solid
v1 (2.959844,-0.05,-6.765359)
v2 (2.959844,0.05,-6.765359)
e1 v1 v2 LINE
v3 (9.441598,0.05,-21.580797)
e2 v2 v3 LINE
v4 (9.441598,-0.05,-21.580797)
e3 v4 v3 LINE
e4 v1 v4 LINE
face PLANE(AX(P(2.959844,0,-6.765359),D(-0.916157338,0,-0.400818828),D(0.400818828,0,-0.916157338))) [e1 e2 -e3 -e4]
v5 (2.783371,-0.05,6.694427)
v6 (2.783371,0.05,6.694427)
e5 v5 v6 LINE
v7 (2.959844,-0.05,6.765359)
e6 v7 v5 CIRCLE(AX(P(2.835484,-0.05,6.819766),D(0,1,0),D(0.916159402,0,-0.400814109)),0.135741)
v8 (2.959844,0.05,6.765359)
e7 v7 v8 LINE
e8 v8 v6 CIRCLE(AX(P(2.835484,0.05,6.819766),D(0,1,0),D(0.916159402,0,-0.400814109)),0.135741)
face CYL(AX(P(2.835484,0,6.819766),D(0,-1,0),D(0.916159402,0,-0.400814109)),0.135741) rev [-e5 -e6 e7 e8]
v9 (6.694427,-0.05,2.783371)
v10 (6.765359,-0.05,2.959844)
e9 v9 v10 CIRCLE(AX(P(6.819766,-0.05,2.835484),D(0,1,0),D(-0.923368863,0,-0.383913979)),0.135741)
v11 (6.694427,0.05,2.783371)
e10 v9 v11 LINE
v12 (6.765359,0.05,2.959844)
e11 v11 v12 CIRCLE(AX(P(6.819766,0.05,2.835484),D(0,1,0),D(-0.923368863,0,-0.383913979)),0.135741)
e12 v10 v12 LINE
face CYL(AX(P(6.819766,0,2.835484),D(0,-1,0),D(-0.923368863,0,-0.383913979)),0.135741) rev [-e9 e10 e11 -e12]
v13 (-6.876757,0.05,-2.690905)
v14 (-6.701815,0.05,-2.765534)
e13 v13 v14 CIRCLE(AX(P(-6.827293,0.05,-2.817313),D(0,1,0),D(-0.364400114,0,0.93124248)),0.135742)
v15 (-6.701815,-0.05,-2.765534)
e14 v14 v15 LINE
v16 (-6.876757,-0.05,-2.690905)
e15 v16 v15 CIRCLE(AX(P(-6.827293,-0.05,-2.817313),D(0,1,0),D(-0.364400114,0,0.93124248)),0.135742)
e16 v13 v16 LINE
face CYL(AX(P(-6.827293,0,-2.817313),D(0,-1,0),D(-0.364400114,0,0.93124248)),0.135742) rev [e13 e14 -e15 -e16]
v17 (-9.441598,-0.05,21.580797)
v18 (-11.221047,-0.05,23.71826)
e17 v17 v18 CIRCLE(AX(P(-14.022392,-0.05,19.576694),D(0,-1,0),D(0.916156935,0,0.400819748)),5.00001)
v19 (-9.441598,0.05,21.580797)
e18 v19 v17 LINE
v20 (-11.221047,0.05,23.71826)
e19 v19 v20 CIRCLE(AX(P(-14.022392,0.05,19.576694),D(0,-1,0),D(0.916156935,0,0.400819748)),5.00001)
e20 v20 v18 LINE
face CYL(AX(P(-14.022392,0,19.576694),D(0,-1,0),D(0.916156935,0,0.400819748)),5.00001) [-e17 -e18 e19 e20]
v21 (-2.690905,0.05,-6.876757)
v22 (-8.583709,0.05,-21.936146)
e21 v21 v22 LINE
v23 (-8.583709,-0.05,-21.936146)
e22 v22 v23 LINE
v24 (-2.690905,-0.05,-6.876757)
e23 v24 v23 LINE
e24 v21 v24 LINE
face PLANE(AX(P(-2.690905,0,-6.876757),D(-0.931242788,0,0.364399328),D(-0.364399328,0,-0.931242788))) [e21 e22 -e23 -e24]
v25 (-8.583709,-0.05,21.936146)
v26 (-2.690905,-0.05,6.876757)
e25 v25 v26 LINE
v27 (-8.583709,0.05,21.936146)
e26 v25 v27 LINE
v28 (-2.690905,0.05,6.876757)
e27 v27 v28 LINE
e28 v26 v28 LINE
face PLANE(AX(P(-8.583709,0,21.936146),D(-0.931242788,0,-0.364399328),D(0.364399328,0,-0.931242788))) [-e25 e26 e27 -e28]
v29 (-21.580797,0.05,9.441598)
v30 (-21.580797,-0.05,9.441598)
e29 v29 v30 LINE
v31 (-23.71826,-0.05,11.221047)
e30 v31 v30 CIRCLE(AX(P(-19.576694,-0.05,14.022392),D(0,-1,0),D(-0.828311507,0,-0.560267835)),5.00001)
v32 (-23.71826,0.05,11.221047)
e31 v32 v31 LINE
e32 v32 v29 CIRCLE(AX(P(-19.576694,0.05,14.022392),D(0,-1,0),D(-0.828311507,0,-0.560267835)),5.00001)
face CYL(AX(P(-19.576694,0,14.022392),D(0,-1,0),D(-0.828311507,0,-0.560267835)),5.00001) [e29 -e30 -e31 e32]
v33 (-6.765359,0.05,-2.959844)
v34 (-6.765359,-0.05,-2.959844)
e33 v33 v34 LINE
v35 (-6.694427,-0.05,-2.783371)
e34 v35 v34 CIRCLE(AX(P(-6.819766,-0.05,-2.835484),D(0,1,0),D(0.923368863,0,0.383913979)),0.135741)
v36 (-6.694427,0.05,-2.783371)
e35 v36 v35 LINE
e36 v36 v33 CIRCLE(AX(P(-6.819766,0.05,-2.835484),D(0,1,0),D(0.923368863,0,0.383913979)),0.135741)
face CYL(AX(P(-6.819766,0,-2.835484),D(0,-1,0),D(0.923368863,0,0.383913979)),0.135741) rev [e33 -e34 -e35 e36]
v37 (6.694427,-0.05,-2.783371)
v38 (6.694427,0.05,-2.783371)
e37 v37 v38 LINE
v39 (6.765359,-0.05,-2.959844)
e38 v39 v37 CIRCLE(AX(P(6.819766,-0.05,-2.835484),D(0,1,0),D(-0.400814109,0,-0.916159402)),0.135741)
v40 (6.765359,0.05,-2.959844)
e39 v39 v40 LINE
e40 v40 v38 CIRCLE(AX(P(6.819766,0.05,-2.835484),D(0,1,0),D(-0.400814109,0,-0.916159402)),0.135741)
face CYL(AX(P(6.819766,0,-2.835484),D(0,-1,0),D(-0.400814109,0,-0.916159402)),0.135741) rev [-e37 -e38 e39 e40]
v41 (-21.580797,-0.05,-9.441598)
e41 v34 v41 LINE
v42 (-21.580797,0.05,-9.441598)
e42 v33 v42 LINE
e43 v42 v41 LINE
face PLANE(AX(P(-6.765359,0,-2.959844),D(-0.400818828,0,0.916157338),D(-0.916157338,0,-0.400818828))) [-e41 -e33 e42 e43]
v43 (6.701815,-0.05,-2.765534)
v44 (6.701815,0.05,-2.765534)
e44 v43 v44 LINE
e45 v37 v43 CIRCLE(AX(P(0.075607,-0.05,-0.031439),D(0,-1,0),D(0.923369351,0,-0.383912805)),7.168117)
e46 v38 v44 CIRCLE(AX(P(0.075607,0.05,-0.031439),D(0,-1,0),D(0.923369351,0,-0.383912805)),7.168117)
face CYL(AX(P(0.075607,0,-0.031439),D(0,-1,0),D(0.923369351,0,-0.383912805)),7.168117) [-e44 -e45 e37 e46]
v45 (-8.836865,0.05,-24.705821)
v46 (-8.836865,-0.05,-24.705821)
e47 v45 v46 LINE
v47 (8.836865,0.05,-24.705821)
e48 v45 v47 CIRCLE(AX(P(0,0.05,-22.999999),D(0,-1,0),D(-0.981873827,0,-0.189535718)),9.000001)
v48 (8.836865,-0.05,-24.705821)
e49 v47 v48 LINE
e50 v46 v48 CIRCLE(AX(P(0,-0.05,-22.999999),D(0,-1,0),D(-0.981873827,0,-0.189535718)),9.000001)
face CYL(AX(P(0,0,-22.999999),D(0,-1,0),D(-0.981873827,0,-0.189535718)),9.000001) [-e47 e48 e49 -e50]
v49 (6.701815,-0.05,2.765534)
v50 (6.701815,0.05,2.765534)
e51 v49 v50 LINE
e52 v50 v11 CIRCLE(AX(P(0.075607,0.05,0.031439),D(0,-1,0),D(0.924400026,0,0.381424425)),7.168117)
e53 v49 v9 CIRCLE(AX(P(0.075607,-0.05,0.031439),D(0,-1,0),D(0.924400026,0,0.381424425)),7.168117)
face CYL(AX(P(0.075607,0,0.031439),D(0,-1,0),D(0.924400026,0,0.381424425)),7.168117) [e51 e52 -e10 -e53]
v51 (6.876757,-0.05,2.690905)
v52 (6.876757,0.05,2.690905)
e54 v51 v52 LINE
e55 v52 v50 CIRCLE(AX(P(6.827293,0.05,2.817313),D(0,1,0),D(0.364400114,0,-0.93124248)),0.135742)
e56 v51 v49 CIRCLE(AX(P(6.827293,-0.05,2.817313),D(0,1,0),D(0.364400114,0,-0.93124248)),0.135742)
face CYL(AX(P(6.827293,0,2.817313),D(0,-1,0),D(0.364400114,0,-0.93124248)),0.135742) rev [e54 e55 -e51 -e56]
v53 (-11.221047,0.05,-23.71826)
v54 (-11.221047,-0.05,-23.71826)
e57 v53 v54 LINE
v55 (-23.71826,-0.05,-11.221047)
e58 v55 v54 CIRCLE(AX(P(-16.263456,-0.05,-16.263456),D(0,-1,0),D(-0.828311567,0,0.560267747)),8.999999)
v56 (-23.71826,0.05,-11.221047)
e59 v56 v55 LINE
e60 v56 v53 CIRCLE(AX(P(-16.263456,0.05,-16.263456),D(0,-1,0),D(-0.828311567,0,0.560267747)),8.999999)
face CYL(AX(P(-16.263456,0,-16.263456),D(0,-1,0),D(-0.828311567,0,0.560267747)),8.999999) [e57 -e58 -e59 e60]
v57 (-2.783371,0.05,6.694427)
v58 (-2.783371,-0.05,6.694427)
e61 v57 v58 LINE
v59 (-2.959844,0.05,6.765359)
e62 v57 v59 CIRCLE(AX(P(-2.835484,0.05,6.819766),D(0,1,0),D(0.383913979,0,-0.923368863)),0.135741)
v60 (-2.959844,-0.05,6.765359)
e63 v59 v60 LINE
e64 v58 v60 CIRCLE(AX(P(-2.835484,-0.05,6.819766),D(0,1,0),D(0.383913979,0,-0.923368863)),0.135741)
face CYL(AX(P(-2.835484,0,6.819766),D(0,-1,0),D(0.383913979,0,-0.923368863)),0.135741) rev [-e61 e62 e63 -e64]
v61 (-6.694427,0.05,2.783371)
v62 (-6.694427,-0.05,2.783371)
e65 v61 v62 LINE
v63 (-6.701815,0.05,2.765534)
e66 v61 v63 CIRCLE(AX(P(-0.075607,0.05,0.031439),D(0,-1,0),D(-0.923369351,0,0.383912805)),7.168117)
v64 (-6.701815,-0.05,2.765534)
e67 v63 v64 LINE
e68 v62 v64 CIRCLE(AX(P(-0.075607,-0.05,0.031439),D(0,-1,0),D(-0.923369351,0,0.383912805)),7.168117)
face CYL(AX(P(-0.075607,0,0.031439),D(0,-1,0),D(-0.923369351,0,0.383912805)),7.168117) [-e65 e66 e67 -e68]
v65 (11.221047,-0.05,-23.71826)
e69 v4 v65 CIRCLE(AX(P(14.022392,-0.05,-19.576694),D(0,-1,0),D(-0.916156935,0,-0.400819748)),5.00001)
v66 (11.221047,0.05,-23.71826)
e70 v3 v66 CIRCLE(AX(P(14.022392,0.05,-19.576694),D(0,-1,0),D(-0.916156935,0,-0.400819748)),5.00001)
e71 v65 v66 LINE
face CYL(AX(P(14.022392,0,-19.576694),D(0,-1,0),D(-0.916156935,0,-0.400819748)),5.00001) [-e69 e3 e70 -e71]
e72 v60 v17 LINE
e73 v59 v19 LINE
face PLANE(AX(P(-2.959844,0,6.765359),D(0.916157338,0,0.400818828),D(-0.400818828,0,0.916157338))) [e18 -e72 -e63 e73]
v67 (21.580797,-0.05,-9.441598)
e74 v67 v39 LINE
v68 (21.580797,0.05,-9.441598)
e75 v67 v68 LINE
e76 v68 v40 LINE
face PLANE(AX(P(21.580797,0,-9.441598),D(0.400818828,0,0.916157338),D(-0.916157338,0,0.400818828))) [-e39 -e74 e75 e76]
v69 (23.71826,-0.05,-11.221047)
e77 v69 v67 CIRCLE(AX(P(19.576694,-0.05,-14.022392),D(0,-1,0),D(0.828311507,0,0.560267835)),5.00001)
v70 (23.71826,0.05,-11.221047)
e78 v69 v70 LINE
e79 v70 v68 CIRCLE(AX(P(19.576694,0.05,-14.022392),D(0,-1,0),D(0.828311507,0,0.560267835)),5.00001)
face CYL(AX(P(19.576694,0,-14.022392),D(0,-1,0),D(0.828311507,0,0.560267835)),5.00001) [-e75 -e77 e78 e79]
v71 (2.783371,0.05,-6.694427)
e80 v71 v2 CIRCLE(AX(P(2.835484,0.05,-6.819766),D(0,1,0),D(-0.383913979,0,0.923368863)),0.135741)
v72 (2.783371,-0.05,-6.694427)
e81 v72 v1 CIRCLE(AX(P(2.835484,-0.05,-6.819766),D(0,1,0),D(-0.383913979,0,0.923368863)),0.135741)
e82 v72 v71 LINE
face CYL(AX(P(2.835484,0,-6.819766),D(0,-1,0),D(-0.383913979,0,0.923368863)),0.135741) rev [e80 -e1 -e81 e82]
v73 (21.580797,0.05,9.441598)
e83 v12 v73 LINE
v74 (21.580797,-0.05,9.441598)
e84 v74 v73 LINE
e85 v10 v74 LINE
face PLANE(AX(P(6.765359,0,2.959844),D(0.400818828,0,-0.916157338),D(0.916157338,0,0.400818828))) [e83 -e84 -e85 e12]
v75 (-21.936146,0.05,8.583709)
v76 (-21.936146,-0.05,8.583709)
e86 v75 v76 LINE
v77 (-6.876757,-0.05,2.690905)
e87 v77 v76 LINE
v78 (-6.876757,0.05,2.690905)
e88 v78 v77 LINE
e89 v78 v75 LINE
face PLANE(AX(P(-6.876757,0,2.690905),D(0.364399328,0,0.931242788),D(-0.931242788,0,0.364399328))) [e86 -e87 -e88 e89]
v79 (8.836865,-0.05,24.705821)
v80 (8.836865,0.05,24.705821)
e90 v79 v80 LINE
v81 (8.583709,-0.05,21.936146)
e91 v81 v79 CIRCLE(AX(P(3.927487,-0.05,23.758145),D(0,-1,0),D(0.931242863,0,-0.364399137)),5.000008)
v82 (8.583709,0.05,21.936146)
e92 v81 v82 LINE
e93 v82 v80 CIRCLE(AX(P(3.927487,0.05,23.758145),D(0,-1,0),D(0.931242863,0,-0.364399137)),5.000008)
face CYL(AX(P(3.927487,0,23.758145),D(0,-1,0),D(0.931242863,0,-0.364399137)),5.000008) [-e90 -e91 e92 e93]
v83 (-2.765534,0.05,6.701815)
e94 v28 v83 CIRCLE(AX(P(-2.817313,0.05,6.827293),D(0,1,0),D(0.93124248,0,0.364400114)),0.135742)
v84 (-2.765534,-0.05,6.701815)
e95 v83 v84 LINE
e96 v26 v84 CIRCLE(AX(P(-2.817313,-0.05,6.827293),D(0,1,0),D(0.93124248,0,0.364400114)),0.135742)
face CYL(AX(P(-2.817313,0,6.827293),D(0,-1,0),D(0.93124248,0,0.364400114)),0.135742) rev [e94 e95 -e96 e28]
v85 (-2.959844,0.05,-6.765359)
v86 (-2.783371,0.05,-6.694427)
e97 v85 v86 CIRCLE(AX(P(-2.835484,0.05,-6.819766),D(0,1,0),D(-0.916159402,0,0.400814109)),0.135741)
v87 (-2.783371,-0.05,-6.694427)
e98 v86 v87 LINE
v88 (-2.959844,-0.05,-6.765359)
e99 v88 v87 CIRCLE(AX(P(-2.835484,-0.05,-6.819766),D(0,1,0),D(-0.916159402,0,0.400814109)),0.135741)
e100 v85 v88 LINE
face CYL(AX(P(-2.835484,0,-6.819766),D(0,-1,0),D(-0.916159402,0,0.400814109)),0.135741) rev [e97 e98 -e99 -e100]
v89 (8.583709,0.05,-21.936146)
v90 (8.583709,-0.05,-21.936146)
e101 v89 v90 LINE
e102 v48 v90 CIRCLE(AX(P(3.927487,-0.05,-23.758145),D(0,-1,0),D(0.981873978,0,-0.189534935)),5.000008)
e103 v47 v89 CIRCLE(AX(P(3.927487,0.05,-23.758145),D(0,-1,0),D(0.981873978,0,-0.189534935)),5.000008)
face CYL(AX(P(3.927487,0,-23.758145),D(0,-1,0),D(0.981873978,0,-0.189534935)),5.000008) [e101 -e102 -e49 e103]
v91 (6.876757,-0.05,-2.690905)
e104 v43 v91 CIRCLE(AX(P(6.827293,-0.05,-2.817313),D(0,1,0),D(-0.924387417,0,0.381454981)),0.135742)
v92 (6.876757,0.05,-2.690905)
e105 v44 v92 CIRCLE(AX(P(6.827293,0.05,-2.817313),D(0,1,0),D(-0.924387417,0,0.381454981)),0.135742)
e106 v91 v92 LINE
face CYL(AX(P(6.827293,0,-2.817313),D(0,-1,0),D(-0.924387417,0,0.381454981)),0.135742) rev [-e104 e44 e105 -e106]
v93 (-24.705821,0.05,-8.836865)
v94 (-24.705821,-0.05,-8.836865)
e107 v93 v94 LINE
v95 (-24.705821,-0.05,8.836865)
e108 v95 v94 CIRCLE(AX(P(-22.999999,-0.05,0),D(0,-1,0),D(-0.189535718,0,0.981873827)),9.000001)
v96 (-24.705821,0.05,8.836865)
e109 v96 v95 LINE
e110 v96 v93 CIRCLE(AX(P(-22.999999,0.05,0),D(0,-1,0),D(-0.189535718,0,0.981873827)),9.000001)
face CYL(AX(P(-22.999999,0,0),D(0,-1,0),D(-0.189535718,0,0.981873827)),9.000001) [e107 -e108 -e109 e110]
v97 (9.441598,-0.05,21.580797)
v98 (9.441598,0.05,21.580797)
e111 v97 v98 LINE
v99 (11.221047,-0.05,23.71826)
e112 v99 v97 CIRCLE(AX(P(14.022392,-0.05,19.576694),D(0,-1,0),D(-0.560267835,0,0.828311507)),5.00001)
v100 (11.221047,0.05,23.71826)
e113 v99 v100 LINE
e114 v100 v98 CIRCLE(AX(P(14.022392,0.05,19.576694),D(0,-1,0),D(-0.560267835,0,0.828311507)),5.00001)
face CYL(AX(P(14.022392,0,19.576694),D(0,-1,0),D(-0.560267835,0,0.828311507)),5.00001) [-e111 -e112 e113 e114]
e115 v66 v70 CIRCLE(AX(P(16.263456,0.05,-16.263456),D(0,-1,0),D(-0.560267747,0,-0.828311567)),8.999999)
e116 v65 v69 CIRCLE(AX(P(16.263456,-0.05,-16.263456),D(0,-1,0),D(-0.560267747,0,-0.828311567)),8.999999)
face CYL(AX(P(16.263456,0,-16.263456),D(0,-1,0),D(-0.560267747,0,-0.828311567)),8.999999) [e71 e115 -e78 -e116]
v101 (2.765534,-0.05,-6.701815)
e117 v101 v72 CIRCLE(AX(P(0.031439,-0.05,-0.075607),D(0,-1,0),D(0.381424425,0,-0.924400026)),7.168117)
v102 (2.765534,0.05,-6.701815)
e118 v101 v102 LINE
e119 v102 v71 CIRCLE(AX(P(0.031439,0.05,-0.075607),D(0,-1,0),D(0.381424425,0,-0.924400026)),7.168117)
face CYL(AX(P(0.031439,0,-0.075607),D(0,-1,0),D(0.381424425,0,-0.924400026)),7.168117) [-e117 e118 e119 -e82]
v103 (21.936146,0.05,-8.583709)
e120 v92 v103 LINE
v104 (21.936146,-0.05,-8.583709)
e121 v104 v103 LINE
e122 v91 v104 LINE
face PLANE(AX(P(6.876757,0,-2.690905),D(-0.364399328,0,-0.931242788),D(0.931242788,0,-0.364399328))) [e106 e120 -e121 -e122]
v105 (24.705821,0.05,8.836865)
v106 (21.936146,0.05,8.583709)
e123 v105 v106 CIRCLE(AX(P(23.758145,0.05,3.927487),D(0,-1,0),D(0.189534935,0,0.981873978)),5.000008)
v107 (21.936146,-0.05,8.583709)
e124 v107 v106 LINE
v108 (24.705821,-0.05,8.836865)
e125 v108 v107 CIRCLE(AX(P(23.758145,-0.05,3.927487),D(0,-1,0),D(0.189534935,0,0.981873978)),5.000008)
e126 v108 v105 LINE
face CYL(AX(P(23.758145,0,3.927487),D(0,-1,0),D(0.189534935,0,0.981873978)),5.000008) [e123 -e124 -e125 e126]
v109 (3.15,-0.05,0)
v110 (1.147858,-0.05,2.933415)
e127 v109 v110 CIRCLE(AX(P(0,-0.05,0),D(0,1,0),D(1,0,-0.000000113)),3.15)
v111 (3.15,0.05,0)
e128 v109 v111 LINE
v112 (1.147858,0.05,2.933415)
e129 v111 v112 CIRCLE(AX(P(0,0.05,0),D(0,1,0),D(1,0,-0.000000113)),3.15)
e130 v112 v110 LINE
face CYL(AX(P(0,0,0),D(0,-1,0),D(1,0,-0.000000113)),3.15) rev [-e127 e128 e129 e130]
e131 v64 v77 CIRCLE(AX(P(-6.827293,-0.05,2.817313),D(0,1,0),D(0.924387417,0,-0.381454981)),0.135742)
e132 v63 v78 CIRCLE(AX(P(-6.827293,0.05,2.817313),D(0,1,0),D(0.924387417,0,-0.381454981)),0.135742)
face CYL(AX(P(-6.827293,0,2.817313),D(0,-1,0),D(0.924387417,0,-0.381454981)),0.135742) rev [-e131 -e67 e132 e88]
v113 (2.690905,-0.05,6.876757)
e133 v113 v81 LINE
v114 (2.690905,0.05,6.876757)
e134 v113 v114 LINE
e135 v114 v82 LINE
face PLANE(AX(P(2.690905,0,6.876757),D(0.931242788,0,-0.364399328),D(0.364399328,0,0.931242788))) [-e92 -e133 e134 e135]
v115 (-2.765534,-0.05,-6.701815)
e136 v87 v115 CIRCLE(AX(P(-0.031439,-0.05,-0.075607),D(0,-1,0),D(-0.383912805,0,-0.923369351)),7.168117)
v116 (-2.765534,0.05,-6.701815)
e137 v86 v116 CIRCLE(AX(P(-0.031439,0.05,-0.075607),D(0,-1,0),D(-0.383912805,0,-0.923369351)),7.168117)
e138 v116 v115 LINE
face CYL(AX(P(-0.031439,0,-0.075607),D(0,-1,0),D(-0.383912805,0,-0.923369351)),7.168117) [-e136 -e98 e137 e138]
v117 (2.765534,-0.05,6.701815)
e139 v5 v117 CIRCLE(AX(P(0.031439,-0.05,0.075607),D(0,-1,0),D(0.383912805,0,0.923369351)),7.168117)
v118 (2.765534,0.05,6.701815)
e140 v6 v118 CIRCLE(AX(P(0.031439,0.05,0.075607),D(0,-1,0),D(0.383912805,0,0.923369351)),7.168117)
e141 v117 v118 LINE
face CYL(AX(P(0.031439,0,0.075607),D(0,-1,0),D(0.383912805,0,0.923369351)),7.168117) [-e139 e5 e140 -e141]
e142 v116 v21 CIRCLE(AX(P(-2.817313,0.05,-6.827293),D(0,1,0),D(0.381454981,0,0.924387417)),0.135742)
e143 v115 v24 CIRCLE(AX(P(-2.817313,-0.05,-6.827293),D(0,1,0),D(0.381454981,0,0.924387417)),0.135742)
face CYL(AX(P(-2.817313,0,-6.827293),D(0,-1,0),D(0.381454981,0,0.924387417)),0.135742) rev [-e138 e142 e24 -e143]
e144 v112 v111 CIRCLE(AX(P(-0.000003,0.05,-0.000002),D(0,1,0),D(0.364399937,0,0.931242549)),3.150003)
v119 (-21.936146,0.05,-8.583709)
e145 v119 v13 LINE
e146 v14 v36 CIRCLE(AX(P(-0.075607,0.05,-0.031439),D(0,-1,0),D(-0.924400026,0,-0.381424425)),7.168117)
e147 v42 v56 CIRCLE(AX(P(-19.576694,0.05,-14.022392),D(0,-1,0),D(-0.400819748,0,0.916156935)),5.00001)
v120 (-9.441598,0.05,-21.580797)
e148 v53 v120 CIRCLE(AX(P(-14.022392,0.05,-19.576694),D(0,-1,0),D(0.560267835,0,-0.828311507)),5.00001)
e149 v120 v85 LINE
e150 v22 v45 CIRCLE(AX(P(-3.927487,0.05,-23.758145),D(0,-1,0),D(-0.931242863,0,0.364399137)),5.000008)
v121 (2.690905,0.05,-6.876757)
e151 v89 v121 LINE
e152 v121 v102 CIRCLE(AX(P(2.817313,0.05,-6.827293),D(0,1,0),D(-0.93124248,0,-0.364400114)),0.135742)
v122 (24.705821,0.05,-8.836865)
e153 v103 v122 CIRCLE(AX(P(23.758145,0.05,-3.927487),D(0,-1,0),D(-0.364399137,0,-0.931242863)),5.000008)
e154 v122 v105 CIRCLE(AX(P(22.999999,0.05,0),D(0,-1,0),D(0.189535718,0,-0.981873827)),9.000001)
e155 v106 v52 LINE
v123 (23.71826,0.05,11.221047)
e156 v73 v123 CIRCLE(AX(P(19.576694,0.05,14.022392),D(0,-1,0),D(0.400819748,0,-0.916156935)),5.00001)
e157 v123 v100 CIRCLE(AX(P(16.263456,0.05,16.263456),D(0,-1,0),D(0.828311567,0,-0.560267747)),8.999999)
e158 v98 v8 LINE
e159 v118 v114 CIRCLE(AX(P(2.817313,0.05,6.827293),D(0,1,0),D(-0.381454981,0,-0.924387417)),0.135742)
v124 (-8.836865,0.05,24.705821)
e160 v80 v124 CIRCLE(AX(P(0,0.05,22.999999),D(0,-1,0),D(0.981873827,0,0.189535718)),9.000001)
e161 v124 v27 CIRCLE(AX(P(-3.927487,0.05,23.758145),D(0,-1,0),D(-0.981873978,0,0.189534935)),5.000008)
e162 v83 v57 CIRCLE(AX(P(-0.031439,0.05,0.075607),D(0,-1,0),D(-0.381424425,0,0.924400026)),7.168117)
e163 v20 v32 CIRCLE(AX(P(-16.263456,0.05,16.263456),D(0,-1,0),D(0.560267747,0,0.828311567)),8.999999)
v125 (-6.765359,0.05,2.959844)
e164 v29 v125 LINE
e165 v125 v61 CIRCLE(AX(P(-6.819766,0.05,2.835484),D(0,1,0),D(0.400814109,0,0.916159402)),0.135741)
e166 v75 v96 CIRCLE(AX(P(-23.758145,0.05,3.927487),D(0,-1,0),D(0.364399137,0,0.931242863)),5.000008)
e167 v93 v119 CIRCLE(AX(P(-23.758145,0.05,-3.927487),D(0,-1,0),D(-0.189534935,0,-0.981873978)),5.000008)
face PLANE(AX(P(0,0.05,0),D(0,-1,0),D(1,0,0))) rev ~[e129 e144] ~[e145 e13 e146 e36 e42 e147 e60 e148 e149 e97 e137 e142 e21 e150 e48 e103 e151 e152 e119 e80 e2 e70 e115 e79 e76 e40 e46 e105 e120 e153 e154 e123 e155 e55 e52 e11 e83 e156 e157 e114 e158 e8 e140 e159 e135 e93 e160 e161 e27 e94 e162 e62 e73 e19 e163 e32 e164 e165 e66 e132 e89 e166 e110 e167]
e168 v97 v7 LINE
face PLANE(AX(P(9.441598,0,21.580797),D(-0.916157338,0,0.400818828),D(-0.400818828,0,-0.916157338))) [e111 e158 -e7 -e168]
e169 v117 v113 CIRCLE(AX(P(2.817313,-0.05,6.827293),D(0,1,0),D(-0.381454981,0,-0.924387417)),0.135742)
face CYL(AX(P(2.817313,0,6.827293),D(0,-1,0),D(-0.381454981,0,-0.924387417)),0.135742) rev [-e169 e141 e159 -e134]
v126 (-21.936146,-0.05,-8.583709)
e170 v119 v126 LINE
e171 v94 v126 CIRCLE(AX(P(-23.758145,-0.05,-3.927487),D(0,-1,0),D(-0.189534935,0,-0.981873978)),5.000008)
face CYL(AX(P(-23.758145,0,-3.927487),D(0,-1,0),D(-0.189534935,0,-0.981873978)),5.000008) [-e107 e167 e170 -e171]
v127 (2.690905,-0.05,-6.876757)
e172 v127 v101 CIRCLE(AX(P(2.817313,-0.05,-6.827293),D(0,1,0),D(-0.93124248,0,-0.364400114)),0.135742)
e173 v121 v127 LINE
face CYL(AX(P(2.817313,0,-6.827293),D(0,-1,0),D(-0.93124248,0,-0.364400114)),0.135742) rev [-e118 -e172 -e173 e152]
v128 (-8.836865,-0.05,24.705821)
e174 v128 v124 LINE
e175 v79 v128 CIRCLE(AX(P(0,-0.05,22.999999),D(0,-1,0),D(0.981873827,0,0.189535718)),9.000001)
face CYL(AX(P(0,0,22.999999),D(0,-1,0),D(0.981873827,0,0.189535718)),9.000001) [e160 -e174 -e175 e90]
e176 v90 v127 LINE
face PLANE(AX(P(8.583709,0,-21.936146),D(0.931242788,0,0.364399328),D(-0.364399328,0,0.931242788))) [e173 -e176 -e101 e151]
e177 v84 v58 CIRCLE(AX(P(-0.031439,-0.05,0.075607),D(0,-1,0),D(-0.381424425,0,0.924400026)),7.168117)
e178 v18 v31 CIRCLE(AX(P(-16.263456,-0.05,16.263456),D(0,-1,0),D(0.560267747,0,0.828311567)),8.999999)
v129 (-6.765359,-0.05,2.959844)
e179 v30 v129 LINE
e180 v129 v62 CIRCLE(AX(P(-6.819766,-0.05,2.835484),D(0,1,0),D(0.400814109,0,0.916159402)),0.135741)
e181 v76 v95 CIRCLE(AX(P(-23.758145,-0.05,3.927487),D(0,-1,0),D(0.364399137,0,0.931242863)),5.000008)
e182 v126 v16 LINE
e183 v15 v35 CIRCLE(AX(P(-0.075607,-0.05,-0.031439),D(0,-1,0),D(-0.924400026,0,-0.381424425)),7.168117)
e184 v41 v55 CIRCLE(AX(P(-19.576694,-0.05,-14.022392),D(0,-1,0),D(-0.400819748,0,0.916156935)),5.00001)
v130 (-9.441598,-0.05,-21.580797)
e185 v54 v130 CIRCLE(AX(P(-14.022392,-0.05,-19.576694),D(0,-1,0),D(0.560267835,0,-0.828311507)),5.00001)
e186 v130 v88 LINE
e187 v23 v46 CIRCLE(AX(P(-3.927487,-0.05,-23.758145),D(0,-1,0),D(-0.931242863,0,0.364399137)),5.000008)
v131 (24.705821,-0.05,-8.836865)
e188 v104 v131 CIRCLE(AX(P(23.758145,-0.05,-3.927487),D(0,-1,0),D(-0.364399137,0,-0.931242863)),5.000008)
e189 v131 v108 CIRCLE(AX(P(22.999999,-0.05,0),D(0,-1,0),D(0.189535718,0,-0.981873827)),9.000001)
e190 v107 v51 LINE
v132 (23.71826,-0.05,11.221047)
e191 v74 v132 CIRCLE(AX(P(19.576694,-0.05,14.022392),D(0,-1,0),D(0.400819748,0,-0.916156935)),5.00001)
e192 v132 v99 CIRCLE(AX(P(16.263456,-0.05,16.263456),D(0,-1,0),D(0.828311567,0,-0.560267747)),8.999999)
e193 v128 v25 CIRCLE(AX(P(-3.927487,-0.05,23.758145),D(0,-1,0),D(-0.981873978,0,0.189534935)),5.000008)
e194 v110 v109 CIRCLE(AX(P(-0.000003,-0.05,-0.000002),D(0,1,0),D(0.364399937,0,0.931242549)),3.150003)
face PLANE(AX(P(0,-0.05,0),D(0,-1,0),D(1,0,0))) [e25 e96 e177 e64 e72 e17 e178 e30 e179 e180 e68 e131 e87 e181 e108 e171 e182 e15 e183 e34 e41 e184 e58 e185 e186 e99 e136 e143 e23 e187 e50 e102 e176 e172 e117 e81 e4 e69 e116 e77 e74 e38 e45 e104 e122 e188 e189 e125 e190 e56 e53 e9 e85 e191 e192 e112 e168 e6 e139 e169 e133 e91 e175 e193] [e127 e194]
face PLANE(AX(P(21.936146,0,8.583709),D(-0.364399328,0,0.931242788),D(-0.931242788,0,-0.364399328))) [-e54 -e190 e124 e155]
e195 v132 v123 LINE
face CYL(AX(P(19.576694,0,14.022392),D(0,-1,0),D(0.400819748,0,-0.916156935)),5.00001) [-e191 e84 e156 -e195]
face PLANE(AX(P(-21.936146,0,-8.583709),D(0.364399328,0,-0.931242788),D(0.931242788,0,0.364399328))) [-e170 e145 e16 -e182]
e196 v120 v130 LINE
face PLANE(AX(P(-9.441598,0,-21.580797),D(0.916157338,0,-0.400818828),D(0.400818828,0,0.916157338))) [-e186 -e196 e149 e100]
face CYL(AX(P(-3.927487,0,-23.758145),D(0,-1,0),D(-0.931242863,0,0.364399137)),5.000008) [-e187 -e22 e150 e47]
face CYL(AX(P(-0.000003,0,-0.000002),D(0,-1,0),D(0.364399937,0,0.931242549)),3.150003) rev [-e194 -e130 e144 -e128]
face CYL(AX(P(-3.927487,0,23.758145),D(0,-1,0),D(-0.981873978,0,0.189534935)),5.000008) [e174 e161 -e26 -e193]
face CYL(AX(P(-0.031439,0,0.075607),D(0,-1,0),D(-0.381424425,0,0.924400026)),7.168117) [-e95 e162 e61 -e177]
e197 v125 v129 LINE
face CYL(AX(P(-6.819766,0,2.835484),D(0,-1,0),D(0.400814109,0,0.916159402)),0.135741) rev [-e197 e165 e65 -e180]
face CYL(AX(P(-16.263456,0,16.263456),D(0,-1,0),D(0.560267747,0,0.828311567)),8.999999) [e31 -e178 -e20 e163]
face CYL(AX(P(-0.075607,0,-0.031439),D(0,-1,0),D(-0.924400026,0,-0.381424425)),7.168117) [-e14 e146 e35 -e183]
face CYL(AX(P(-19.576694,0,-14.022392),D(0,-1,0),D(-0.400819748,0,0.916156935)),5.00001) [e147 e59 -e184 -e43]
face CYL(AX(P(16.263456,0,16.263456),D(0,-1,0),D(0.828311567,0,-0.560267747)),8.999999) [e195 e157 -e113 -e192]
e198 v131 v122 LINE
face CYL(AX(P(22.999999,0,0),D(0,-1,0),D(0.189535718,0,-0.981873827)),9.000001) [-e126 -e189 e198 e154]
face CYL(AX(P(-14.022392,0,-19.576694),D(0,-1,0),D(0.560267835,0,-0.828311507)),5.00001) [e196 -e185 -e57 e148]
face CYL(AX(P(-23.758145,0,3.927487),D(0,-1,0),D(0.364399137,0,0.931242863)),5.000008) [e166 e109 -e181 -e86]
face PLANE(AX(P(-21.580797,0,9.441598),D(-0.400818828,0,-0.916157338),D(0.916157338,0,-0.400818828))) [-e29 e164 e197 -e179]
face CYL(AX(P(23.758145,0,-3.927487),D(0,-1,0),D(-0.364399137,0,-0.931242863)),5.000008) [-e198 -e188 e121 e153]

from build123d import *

# Parameters (mm, degrees)
F1_DEPTH = 0.05


with BuildPart() as f1:
    # F0 (on Front) → F1 (new body, symmetric)
    with BuildSketch(Plane.XZ):
        with BuildLine():
            ThreePointArc((-2.690905, 6.876757), (-2.692458, 6.77403), (-2.765534, 6.701815))
            ThreePointArc((-2.765534, 6.701815), (-2.774455, 6.698127), (-2.783371, 6.694427))
            ThreePointArc((-2.783371, 6.694427), (-2.886107, 6.693818), (-2.959844, 6.765359))
            Line((-2.959844, 6.765359), (-9.441598, 21.580797))
            ThreePointArc((-9.441598, 21.580797), (-10.179713, 22.775744), (-11.221047, 23.71826))
            ThreePointArc((-11.221047, 23.71826), (-22.627417, 22.627417), (-23.71826, 11.221047))
            ThreePointArc((-23.71826, 11.221047), (-22.775744, 10.179713), (-21.580797, 9.441598))
            Line((-21.580797, 9.441598), (-6.765359, 2.959844))
            ThreePointArc((-6.765359, 2.959844), (-6.693818, 2.886107), (-6.694427, 2.783371))
            ThreePointArc((-6.694427, 2.783371), (-6.698127, 2.774455), (-6.701815, 2.765534))
            ThreePointArc((-6.701815, 2.765534), (-6.77403, 2.692458), (-6.876757, 2.690905))
            Line((-6.876757, 2.690905), (-21.936146, 8.583709))
            ThreePointArc((-21.936146, 8.583709), (-23.303027, 8.906739), (-24.705821, 8.836865))
            ThreePointArc((-24.705821, 8.836865), (-32, 0), (-24.705821, -8.836865))
            ThreePointArc((-24.705821, -8.836865), (-23.303027, -8.906739), (-21.936146, -8.583709))
            Line((-21.936146, -8.583709), (-6.876757, -2.690905))
            ThreePointArc((-6.876757, -2.690905), (-6.77403, -2.692458), (-6.701815, -2.765534))
            ThreePointArc((-6.701815, -2.765534), (-6.698127, -2.774455), (-6.694427, -2.783371))
            ThreePointArc((-6.694427, -2.783371), (-6.693818, -2.886107), (-6.765359, -2.959844))
            Line((-6.765359, -2.959844), (-21.580797, -9.441598))
            ThreePointArc((-21.580797, -9.441598), (-22.775744, -10.179713), (-23.71826, -11.221047))
            ThreePointArc((-23.71826, -11.221047), (-22.627417, -22.627417), (-11.221047, -23.71826))
            ThreePointArc((-11.221047, -23.71826), (-10.179713, -22.775744), (-9.441598, -21.580797))
            Line((-9.441598, -21.580797), (-2.959844, -6.765359))
            ThreePointArc((-2.959844, -6.765359), (-2.886107, -6.693818), (-2.783371, -6.694427))
            ThreePointArc((-2.783371, -6.694427), (-2.774455, -6.698127), (-2.765534, -6.701815))
            ThreePointArc((-2.765534, -6.701815), (-2.692458, -6.77403), (-2.690905, -6.876757))
            Line((-2.690905, -6.876757), (-8.583709, -21.936146))
            ThreePointArc((-8.583709, -21.936146), (-8.906739, -23.303027), (-8.836865, -24.705821))
            ThreePointArc((-8.836865, -24.705821), (0, -32), (8.836865, -24.705821))
            ThreePointArc((8.836865, -24.705821), (8.906739, -23.303027), (8.583709, -21.936146))
            Line((8.583709, -21.936146), (2.690905, -6.876757))
            ThreePointArc((2.690905, -6.876757), (2.692458, -6.77403), (2.765534, -6.701815))
            ThreePointArc((2.765534, -6.701815), (2.774455, -6.698127), (2.783371, -6.694427))
            ThreePointArc((2.783371, -6.694427), (2.886107, -6.693818), (2.959844, -6.765359))
            Line((2.959844, -6.765359), (9.441598, -21.580797))
            ThreePointArc((9.441598, -21.580797), (10.179713, -22.775744), (11.221047, -23.71826))
            ThreePointArc((11.221047, -23.71826), (22.627417, -22.627417), (23.71826, -11.221047))
            ThreePointArc((23.71826, -11.221047), (22.775744, -10.179713), (21.580797, -9.441598))
            Line((21.580797, -9.441598), (6.765359, -2.959844))
            ThreePointArc((6.765359, -2.959844), (6.693818, -2.886107), (6.694427, -2.783371))
            ThreePointArc((6.694427, -2.783371), (6.698127, -2.774455), (6.701815, -2.765534))
            ThreePointArc((6.701815, -2.765534), (6.77403, -2.692458), (6.876757, -2.690905))
            Line((6.876757, -2.690905), (21.936146, -8.583709))
            ThreePointArc((21.936146, -8.583709), (23.303027, -8.906739), (24.705821, -8.836865))
            ThreePointArc((24.705821, -8.836865), (32, 0), (24.705821, 8.836865))
            ThreePointArc((24.705821, 8.836865), (23.303027, 8.906739), (21.936146, 8.583709))
            Line((21.936146, 8.583709), (6.876757, 2.690905))
            ThreePointArc((6.876757, 2.690905), (6.77403, 2.692458), (6.701815, 2.765534))
            ThreePointArc((6.701815, 2.765534), (6.698127, 2.774455), (6.694427, 2.783371))
            ThreePointArc((6.694427, 2.783371), (6.693818, 2.886107), (6.765359, 2.959844))
            Line((6.765359, 2.959844), (21.580797, 9.441598))
            ThreePointArc((21.580797, 9.441598), (22.775744, 10.179713), (23.71826, 11.221047))
            ThreePointArc((23.71826, 11.221047), (22.627417, 22.627417), (11.221047, 23.71826))
            ThreePointArc((11.221047, 23.71826), (10.179713, 22.775744), (9.441598, 21.580797))
            Line((9.441598, 21.580797), (2.959844, 6.765359))
            ThreePointArc((2.959844, 6.765359), (2.886107, 6.693818), (2.783371, 6.694427))
            ThreePointArc((2.783371, 6.694427), (2.774455, 6.698127), (2.765534, 6.701815))
            ThreePointArc((2.765534, 6.701815), (2.692458, 6.77403), (2.690905, 6.876757))
            Line((2.690905, 6.876757), (8.583709, 21.936146))
            ThreePointArc((8.583709, 21.936146), (8.906739, 23.303027), (8.836865, 24.705821))
            ThreePointArc((8.836865, 24.705821), (0, 32), (-8.836865, 24.705821))
            ThreePointArc((-8.836865, 24.705821), (-8.906739, 23.303027), (-8.583709, 21.936146))
            Line((-8.583709, 21.936146), (-2.690905, 6.876757))
        make_face()
        with BuildLine():
            ThreePointArc((1.147858, 2.933415), (2.601754, 1.775774), (3.15, 0))
            ThreePointArc((3.15, 0), (-2.601754, -1.775774), (1.147858, 2.933415))
        make_face(mode=Mode.SUBTRACT)
    extrude(amount=F1_DEPTH, both=True)


solid = f1.part
